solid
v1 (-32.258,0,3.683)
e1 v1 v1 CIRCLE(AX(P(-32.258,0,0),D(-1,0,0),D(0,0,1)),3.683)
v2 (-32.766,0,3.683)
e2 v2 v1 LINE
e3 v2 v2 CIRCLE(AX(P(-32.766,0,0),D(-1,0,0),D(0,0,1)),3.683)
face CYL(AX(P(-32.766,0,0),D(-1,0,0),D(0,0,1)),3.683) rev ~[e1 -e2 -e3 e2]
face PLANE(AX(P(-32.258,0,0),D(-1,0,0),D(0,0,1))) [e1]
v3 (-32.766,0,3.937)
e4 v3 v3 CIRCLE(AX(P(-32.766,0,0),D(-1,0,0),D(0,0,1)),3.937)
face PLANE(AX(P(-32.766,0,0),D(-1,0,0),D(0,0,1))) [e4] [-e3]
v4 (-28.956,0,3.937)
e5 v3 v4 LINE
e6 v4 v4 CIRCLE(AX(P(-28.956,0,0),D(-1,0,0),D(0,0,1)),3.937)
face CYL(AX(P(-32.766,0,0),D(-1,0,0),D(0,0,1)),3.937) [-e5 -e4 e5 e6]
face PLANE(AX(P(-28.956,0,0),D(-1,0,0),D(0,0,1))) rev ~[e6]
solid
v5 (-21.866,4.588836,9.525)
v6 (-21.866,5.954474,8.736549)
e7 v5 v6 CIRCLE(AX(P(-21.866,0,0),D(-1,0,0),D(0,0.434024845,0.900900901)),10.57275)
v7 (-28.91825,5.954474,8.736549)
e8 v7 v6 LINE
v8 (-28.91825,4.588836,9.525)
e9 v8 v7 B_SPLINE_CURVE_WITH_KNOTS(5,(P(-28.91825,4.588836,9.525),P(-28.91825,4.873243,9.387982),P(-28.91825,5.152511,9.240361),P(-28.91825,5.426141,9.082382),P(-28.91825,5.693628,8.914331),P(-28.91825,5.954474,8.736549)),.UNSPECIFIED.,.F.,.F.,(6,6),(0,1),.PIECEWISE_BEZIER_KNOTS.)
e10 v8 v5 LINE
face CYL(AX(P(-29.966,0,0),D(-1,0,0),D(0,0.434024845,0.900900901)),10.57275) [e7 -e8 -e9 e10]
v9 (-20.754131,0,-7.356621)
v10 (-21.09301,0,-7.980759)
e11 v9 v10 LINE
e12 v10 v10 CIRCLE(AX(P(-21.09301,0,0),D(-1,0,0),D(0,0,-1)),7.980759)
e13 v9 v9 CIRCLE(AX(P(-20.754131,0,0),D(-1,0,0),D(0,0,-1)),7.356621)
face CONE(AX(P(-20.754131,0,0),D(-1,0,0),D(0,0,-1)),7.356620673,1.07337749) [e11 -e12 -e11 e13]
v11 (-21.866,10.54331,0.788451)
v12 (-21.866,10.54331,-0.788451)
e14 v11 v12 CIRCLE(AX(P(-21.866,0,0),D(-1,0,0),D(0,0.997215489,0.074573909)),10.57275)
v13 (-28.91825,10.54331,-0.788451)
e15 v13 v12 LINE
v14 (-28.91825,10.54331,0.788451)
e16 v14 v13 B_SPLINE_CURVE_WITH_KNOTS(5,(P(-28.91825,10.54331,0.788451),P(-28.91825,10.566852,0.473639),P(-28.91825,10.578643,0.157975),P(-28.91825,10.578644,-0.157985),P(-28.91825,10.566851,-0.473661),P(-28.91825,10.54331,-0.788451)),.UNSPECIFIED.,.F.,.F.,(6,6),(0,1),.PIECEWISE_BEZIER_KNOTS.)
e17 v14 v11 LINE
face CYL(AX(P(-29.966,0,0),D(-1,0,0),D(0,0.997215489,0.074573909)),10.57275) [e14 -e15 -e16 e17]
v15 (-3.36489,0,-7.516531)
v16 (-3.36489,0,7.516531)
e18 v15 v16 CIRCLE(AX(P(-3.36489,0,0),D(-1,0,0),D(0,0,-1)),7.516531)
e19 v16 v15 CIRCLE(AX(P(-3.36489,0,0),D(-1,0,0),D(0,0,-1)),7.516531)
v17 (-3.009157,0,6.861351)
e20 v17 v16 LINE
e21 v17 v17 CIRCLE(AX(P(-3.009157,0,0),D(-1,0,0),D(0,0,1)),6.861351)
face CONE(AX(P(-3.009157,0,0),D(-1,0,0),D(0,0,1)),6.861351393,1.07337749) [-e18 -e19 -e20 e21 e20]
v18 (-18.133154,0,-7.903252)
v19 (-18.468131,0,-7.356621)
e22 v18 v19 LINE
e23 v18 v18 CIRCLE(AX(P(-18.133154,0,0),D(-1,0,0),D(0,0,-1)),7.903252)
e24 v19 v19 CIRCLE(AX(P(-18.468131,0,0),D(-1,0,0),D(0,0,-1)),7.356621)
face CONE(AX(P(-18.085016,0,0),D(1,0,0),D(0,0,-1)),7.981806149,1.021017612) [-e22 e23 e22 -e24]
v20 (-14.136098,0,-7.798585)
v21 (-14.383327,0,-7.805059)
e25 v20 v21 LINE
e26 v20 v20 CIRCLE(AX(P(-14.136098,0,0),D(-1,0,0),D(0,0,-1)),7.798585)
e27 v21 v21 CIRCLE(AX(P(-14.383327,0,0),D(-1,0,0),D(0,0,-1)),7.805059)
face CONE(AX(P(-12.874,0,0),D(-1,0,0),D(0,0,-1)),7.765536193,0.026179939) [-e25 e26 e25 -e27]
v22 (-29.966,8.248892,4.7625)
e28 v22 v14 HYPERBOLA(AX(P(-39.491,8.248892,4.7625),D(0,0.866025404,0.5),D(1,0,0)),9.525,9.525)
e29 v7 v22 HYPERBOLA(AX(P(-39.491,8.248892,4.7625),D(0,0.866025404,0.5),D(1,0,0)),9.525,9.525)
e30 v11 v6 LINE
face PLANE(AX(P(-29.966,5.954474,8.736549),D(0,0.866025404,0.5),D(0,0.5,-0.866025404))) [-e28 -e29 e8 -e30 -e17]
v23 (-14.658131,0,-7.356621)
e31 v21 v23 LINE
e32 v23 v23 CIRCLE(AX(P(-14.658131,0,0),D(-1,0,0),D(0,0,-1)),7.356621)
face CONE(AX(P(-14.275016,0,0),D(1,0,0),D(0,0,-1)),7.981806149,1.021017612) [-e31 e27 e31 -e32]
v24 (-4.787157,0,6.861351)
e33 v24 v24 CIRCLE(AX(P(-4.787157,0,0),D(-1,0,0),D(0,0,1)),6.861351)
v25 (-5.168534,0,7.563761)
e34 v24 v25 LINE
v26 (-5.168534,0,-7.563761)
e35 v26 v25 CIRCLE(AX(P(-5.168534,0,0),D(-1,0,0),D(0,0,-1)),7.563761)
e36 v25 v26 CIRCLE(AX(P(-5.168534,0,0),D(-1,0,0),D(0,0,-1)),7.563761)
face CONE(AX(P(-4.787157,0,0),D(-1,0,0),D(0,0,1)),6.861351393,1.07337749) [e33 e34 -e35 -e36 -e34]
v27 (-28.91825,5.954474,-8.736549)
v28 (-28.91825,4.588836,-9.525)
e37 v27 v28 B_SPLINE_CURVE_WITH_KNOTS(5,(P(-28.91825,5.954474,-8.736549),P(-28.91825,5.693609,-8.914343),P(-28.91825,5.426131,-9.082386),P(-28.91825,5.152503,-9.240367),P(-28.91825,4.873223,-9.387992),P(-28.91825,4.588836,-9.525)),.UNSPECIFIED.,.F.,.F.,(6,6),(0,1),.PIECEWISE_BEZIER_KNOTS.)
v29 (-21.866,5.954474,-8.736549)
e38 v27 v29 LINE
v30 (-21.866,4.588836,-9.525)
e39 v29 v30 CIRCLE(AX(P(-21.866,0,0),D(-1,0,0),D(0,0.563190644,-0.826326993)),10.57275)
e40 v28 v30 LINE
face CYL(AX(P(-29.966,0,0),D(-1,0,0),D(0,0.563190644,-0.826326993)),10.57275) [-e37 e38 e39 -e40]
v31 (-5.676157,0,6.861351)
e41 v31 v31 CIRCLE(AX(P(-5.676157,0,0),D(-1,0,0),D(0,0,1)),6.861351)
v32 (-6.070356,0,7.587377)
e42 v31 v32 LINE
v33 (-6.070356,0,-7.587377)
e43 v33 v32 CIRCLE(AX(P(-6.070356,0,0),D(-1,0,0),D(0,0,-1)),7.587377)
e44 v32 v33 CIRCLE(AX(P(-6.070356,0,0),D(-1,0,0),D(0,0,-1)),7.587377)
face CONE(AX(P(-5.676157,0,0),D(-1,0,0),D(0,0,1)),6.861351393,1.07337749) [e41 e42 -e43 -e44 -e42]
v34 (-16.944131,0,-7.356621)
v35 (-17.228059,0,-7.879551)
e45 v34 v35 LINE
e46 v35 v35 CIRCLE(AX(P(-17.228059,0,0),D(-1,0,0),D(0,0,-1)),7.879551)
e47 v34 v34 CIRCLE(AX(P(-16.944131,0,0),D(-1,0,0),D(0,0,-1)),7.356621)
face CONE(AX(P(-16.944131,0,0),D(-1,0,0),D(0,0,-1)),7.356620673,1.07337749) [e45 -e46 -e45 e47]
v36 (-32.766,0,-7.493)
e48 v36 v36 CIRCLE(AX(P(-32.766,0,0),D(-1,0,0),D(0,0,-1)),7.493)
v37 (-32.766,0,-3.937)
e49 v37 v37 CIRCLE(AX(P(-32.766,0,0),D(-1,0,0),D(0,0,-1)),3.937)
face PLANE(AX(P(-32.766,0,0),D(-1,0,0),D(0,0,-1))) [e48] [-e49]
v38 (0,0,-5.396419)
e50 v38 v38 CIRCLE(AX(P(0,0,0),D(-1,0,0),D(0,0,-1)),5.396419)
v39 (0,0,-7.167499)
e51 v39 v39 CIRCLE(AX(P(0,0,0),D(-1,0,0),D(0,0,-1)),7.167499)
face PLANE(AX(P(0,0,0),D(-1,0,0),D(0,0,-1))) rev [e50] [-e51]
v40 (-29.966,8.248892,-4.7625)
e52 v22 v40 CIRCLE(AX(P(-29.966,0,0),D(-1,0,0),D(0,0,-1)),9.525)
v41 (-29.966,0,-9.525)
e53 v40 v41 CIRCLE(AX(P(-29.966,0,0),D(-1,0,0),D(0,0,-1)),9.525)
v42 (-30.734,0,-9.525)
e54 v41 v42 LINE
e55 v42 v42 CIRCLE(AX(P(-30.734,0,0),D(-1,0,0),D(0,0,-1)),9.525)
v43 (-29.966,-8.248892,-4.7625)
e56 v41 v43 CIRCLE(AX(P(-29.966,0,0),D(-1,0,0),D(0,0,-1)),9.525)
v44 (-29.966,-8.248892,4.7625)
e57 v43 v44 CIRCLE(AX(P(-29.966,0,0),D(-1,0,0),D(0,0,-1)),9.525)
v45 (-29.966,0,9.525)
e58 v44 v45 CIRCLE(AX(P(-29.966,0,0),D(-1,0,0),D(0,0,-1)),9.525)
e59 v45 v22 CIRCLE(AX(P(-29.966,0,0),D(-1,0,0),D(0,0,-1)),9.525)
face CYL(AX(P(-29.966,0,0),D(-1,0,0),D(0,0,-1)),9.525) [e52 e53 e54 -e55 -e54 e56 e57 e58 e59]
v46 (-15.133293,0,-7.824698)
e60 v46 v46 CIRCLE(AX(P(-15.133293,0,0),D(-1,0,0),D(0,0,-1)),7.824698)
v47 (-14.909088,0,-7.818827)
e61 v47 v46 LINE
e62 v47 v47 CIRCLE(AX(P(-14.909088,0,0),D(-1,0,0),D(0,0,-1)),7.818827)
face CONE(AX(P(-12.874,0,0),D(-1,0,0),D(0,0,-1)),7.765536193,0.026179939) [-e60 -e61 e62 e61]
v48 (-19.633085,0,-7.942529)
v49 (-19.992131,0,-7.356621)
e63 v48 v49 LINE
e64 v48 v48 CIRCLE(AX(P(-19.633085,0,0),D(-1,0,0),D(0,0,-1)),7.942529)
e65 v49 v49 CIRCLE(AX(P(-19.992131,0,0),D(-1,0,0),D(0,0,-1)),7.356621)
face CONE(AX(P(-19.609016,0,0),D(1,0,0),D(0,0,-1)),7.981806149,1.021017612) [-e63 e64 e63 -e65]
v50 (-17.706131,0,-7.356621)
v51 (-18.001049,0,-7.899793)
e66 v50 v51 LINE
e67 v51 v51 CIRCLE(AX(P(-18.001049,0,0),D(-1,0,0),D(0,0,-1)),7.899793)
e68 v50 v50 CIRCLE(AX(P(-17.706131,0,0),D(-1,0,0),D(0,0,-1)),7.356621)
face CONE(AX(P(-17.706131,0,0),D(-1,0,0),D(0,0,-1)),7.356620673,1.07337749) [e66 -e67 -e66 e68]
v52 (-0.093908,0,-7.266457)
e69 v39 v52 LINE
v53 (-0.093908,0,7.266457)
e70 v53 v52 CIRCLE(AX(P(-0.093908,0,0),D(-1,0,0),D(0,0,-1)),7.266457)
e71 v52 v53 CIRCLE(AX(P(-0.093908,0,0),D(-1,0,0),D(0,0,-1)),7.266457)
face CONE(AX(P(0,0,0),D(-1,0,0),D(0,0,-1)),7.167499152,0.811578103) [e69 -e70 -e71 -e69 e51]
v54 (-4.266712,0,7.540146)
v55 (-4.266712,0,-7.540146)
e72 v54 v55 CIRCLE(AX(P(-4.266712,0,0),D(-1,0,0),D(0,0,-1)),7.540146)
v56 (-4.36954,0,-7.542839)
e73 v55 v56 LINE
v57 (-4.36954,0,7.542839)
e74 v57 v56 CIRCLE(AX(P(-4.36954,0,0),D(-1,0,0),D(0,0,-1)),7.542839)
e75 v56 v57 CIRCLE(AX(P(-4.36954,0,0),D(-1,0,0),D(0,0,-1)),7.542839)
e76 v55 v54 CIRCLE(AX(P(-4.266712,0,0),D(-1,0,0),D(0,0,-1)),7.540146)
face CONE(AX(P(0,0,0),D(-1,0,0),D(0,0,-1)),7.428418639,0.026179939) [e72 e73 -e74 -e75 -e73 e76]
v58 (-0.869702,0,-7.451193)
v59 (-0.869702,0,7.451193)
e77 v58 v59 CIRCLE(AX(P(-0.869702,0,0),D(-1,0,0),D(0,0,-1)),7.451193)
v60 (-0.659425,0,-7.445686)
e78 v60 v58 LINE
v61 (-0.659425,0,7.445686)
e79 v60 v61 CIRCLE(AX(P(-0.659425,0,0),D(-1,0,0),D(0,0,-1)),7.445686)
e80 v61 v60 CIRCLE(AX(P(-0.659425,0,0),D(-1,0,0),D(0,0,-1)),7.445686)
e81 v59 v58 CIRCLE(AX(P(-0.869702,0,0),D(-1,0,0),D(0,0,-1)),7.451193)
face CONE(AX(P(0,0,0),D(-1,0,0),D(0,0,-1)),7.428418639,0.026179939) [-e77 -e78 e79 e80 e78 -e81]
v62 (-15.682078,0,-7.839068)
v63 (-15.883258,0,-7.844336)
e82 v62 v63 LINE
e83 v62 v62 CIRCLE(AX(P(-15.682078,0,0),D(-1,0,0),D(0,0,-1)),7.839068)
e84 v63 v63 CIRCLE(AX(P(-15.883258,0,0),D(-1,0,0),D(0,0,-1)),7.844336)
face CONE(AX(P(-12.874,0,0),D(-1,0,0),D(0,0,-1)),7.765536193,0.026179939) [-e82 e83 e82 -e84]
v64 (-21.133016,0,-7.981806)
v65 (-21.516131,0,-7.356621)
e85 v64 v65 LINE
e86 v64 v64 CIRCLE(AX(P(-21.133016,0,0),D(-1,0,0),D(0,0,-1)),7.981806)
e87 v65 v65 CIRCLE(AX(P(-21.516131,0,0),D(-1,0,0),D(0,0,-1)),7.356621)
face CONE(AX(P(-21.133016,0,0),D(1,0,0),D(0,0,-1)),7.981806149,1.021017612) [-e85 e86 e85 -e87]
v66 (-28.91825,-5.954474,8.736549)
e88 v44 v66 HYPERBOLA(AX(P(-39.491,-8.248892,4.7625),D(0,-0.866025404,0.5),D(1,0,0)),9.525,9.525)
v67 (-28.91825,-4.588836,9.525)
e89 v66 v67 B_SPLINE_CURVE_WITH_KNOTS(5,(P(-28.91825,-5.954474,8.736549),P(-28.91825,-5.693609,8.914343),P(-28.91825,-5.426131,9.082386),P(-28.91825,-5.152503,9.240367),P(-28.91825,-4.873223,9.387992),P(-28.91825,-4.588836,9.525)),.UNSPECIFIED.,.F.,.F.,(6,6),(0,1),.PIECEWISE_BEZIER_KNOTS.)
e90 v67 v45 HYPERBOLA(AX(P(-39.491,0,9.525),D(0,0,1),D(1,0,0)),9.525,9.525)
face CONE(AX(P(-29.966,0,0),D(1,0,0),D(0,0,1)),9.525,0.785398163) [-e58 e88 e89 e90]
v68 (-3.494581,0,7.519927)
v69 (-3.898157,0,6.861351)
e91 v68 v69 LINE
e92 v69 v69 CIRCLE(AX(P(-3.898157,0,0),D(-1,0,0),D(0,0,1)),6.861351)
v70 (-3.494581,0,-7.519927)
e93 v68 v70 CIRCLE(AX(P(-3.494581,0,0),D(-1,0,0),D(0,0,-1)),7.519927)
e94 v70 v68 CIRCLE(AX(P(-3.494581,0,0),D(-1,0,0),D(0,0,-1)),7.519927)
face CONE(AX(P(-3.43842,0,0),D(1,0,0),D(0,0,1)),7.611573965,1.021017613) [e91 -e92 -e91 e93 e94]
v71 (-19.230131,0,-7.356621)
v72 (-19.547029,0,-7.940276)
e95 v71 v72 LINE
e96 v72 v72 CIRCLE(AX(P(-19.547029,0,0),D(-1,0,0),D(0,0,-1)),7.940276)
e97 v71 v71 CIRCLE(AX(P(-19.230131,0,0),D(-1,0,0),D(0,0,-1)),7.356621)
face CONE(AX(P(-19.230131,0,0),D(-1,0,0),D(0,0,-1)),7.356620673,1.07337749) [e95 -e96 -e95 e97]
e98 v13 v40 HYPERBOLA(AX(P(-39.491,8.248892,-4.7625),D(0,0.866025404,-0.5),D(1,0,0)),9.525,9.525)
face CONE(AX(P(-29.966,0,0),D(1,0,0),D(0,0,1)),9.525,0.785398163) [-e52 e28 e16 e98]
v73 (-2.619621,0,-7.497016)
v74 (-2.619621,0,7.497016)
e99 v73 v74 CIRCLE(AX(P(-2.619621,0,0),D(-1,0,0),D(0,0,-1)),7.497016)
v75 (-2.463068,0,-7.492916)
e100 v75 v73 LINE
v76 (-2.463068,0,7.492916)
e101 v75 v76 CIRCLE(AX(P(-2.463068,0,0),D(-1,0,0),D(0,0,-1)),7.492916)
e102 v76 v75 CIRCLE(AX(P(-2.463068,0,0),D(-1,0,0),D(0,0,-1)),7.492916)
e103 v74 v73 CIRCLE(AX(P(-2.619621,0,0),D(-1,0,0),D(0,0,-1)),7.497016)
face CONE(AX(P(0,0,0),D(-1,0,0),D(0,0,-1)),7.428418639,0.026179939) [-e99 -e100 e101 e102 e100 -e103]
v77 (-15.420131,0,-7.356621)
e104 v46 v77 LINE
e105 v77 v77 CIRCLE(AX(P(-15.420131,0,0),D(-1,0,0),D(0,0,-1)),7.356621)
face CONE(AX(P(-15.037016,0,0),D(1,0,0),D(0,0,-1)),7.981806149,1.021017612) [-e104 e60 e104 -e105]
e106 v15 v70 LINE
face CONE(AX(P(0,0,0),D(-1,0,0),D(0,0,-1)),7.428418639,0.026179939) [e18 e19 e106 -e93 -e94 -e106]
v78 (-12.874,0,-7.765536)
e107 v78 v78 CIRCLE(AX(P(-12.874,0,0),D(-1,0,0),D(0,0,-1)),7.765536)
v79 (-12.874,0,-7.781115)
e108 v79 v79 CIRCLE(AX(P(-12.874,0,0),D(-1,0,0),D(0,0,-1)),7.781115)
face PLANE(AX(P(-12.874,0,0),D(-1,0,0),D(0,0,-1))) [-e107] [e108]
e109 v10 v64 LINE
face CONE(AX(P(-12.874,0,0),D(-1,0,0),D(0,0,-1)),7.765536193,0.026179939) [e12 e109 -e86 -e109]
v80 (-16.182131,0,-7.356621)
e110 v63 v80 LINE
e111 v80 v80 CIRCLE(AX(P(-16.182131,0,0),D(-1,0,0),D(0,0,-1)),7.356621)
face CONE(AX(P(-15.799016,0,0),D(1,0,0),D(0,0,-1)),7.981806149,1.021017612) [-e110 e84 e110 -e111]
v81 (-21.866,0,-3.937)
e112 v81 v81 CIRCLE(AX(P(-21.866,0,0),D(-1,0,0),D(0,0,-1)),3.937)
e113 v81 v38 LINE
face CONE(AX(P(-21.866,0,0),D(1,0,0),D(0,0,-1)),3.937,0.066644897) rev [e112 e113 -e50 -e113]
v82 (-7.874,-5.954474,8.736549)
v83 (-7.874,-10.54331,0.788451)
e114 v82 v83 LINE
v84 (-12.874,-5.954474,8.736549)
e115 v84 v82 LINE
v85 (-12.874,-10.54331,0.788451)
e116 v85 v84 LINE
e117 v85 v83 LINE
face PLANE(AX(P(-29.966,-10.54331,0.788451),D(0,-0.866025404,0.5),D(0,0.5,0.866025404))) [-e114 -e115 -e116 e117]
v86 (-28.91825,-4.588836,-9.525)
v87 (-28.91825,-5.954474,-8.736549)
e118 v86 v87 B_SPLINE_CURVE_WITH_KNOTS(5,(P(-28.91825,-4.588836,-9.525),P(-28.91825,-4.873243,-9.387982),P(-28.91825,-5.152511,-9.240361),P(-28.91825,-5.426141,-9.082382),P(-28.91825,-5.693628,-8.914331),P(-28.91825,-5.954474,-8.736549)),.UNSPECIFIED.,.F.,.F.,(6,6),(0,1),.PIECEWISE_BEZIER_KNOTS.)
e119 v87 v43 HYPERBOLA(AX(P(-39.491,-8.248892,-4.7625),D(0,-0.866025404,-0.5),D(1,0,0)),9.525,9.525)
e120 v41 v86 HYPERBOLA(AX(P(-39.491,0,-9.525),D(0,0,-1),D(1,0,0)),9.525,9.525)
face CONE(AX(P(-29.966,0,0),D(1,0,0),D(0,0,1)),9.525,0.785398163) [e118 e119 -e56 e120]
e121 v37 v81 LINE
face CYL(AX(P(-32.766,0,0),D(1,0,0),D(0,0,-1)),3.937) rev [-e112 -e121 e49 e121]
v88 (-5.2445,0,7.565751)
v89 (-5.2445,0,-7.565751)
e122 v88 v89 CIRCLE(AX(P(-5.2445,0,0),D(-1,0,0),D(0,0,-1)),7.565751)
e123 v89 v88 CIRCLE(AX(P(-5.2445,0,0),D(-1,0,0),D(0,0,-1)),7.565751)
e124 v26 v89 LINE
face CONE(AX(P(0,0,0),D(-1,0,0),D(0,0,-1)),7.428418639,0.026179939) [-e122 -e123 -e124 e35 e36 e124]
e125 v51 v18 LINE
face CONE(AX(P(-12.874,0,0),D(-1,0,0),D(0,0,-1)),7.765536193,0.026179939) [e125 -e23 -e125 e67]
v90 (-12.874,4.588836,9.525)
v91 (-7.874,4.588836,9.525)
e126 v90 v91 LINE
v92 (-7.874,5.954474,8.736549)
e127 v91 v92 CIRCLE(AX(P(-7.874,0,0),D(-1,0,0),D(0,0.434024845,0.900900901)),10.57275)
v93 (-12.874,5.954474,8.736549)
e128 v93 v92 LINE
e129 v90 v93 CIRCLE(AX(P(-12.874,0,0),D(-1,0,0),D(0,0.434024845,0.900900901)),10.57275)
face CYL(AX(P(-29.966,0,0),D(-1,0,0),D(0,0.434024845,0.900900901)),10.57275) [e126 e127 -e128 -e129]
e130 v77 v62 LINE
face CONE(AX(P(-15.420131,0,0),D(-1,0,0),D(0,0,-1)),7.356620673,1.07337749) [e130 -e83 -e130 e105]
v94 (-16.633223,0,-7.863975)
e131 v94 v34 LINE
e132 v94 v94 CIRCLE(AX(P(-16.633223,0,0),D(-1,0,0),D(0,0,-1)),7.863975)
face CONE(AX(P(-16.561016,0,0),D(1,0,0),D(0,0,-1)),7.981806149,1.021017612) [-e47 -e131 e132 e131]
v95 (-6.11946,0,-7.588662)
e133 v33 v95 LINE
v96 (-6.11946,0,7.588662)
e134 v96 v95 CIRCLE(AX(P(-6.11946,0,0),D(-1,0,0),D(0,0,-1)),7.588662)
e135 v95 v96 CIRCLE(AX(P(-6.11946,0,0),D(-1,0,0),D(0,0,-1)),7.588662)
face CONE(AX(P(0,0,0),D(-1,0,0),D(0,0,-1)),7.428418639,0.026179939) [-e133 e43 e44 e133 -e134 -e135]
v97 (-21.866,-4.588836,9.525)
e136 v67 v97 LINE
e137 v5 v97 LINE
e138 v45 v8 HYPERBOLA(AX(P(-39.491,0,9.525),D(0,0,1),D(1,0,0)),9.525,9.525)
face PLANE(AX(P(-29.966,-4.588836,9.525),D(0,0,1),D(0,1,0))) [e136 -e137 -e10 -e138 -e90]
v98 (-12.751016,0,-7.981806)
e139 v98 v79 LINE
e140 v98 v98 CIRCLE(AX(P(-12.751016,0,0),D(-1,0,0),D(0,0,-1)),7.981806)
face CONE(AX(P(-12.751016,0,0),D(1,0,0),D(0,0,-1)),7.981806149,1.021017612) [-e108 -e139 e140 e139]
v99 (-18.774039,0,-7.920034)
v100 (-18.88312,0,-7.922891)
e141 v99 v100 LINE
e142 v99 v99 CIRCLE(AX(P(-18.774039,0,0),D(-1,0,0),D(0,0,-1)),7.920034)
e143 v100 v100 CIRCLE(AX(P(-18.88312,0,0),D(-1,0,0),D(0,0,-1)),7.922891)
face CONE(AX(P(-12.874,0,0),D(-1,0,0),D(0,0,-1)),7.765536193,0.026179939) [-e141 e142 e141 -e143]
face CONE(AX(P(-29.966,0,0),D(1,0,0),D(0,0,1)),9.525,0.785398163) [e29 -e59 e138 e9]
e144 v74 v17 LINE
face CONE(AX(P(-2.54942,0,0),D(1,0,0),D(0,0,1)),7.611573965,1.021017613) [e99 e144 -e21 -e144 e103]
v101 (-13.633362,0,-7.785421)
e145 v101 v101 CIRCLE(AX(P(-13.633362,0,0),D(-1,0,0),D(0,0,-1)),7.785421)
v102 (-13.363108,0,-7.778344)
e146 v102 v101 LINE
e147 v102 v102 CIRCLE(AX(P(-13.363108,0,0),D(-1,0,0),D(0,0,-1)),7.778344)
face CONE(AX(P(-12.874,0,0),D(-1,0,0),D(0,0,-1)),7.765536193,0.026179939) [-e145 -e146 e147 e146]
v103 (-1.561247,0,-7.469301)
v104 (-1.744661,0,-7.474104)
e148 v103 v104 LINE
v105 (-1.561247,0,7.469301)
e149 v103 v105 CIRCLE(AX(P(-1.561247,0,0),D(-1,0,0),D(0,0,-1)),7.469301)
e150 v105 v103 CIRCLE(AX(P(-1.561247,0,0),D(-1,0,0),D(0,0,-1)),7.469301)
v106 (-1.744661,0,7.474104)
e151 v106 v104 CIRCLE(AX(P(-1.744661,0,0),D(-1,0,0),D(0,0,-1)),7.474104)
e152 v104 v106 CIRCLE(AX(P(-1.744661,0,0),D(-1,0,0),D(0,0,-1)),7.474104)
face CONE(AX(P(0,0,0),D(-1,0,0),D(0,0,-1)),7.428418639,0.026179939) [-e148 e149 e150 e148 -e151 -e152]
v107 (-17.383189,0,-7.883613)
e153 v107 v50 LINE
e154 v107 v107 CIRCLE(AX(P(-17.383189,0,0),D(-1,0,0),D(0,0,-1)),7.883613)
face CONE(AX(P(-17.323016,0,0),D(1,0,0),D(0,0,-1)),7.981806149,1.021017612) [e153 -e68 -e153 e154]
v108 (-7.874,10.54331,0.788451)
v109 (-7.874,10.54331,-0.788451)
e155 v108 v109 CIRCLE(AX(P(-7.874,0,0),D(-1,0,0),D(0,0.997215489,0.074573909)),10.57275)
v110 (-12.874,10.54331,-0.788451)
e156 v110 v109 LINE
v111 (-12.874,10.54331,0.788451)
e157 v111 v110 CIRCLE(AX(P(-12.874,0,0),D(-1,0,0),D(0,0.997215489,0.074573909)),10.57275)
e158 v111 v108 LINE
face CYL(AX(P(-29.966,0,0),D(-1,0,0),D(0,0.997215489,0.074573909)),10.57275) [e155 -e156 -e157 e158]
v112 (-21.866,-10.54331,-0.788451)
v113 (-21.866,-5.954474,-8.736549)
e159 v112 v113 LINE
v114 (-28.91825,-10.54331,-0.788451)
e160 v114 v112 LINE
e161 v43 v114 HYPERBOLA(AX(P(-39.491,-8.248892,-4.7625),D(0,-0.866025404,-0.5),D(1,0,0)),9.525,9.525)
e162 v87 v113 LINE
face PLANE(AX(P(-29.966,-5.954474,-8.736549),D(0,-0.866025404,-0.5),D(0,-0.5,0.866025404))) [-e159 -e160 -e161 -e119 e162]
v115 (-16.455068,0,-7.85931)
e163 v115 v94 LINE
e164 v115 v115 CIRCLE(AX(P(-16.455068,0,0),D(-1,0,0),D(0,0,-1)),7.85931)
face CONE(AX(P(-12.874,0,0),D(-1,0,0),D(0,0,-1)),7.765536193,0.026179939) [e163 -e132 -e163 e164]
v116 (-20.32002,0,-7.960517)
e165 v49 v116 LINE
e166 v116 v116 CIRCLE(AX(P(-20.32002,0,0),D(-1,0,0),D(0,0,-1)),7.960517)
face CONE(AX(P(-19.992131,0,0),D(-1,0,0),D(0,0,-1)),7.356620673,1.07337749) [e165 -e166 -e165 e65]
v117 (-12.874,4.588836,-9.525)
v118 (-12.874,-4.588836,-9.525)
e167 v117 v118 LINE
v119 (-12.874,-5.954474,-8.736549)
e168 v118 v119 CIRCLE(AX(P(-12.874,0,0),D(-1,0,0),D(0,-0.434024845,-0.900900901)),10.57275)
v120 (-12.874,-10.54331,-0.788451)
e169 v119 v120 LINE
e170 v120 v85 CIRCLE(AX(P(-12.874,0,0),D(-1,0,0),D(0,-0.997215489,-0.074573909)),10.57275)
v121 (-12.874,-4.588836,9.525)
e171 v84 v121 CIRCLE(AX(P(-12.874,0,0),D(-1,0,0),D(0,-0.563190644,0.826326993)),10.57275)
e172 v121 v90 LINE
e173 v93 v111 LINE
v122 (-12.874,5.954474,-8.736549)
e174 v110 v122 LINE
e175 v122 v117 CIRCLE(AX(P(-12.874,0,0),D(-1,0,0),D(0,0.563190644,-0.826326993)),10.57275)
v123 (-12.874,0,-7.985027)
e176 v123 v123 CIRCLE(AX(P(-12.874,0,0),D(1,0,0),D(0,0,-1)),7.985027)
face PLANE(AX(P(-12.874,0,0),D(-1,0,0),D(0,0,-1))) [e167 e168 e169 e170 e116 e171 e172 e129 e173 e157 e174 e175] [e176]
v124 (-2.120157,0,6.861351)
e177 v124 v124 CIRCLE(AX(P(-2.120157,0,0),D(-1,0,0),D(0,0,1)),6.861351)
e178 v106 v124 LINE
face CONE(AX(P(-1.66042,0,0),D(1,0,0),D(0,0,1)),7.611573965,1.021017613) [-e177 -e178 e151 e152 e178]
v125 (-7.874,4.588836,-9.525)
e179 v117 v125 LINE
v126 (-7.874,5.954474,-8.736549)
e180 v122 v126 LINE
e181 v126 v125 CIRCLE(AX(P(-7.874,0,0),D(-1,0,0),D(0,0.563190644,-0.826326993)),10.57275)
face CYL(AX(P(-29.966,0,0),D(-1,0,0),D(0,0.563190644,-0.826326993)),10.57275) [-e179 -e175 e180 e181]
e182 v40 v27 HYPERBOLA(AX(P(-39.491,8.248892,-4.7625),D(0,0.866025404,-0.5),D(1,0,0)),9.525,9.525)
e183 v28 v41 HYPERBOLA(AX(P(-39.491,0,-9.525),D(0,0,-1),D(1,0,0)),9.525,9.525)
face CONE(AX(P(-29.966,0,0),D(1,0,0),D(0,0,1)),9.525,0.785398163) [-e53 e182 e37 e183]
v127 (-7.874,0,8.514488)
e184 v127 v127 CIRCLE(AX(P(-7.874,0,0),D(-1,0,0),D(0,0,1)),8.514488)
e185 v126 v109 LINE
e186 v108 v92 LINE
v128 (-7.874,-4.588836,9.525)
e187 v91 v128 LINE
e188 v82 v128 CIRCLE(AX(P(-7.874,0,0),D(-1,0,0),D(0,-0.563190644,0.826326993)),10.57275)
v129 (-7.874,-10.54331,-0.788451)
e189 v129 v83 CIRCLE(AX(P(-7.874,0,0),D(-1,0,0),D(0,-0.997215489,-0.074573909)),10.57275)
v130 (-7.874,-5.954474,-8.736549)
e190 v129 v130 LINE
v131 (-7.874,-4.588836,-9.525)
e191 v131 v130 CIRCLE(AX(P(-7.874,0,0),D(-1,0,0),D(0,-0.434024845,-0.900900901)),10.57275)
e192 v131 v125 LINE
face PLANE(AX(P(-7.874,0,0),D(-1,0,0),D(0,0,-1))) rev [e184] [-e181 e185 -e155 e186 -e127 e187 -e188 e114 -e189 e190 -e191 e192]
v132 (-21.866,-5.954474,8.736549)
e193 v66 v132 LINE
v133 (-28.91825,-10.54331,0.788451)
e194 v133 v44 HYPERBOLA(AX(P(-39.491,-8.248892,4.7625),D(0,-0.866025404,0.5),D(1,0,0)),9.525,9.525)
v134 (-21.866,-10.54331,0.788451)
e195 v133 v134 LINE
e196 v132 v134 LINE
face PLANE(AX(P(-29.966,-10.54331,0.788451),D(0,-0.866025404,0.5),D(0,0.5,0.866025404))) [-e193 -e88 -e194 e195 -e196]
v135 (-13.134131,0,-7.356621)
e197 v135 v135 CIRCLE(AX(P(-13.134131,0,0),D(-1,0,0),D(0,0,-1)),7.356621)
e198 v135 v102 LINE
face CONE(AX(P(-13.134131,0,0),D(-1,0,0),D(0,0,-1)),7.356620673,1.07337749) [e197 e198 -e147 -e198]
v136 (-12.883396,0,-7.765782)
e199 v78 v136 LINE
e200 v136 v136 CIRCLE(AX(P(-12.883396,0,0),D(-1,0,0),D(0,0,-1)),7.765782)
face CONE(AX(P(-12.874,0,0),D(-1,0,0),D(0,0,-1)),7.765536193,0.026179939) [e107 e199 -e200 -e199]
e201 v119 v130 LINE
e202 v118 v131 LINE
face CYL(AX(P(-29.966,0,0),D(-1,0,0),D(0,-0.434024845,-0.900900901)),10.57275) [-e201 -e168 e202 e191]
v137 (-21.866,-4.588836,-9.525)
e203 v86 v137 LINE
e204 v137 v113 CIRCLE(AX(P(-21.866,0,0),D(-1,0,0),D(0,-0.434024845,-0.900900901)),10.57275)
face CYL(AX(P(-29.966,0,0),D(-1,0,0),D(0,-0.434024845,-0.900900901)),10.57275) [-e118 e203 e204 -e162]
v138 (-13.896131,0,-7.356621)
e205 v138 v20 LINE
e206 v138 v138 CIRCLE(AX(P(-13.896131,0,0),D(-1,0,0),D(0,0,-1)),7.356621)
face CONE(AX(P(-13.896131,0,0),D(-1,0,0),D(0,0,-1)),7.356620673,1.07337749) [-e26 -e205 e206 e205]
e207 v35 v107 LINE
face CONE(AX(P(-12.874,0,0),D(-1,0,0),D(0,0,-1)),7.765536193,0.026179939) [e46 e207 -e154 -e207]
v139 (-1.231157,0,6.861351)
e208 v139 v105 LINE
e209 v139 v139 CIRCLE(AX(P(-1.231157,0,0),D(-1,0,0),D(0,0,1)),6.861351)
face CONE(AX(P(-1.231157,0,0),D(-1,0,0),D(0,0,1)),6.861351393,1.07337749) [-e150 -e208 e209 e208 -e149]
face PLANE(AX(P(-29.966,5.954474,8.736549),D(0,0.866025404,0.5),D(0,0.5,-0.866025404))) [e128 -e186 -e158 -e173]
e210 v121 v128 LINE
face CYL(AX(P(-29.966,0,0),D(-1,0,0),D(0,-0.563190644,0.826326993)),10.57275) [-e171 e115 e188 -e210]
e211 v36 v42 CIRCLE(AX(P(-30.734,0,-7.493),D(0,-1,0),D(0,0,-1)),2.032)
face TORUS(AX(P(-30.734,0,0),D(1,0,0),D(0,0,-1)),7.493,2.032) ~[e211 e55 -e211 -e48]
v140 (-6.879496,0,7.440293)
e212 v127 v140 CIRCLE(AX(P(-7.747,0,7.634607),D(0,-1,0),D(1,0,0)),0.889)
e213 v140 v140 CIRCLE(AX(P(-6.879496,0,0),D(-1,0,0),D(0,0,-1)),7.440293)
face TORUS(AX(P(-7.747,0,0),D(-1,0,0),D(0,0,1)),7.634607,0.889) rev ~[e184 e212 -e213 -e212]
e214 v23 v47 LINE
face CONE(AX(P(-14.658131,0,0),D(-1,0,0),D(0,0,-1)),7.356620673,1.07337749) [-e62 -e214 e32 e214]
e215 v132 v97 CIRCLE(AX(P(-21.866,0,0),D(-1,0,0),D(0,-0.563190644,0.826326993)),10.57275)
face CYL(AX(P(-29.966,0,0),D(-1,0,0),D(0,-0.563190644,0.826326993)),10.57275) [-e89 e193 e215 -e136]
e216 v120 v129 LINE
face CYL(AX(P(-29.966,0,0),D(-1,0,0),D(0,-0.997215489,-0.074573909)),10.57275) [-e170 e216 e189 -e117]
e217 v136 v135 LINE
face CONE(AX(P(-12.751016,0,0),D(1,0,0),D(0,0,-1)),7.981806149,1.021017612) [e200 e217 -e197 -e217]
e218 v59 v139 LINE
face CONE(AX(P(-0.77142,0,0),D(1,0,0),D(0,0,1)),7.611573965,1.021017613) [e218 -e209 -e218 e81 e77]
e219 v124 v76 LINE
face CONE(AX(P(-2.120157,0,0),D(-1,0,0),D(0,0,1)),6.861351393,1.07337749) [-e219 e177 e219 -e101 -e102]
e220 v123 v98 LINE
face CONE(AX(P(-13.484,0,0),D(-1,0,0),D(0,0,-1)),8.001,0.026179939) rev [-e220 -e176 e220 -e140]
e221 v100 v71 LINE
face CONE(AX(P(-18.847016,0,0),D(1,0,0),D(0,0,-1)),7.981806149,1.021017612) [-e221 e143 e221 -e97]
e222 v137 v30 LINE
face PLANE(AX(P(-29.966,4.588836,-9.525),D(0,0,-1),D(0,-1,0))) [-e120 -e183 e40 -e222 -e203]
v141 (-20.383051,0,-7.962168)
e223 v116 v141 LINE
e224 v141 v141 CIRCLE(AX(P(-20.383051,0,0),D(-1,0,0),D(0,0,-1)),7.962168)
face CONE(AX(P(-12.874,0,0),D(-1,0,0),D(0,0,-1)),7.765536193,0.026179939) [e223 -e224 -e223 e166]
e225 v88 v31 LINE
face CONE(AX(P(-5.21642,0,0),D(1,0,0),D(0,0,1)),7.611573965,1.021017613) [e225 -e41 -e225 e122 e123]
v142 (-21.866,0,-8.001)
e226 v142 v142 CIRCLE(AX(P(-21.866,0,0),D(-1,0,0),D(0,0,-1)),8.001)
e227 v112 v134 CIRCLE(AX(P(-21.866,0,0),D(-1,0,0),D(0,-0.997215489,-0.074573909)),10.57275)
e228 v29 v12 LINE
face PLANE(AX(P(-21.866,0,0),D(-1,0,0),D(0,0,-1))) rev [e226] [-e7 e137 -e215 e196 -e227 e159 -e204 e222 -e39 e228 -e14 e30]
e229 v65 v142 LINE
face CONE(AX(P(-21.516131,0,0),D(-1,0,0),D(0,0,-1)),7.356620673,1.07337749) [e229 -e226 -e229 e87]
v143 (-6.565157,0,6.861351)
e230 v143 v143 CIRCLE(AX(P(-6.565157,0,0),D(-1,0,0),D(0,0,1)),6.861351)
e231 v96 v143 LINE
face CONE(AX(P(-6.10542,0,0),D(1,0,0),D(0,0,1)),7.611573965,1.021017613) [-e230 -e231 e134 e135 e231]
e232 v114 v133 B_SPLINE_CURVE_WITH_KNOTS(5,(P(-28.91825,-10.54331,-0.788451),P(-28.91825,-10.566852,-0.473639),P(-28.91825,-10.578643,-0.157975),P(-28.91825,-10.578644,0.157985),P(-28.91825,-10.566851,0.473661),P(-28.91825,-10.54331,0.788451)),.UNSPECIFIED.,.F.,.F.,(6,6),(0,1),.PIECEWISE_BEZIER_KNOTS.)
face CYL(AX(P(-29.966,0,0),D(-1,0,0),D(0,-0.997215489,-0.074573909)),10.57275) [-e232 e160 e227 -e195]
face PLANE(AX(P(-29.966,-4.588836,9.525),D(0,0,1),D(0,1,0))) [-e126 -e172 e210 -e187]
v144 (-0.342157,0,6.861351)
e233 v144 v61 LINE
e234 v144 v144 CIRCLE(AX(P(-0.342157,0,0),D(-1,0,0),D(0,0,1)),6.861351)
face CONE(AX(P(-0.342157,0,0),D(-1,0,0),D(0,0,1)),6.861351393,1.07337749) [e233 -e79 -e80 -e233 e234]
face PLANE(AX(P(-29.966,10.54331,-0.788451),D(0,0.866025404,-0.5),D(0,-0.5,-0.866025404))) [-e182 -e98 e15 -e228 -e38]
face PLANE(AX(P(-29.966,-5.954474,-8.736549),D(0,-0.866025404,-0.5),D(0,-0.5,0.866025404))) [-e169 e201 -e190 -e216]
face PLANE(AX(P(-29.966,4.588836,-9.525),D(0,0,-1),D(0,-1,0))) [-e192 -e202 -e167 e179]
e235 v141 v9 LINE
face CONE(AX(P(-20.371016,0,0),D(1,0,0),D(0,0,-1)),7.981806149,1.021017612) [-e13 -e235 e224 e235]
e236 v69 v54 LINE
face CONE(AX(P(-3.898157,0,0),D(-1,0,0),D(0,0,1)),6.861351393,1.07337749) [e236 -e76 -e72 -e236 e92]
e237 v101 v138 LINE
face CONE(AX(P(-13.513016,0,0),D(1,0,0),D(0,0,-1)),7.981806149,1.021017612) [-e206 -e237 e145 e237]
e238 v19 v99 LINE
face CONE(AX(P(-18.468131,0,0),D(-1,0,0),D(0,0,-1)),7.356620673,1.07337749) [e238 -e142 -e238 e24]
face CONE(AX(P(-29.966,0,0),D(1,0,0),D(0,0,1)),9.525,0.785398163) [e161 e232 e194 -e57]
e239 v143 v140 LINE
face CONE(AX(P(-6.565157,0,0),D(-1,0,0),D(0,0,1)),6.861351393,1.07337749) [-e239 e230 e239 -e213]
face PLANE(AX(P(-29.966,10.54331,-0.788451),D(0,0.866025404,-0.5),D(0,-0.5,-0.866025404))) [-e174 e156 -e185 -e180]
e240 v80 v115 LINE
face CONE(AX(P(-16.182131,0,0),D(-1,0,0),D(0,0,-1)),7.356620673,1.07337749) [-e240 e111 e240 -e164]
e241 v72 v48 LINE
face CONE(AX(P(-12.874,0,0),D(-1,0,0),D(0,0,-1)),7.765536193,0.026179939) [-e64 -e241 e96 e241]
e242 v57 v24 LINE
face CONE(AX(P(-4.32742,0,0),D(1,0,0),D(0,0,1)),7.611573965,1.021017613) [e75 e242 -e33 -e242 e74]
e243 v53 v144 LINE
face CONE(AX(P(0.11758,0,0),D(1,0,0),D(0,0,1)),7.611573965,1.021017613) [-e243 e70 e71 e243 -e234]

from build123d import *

# Parameters (mm, degrees)
SKETCH12_OUTSIDE_W = 52.712
SKETCH12_OUTSIDE_H = 52.712
CUT_EXTRUDE2_DEPTH = 30.966
FILLET4_R          = 2.032
SKETCH19_OUTSIDE_W = 33.73
SKETCH19_OUTSIDE_H = 35.826
SKETCH19_OUTSIDE_R = 9.525
CUT_EXTRUDE3_DEPTH = 1.999996
CUT_EXTRUDE3_DRAFT = -45
CHAMFER1_SIZE      = 0.260919487
CHAMFER1_SIZE2     = 0.254
SKETCH21_R         = 3.937
PLUG_DEPTH         = 3.81
SKETCH22_R         = 3.683
CUT_EXTRUDE4_DEPTH = 0.508
LPATTERN1_COUNT    = 12
LPATTERN1_PITCH    = 0.762
LPATTERN2_COUNT    = 9
LPATTERN2_PITCH    = 0.889
SKETCH32_R         = 0.889


with BuildPart() as part:
    # Sketch10 → Revolve2 (revolve)
    with BuildSketch(Plane.XY, mode=Mode.PRIVATE) as revolve2_sk:
        Polygon((-32.766, 3.937), (-21.866, 3.937), (0, 5.396418639), (0, 7.428418639), (-7.874, 7.634606585), (-7.874, 19.05), (-12.874, 19.05), (-12.874, 7.765536193), (-21.866, 8.001), (-21.866, 19.05), (-29.966, 19.05), (-29.966, 9.525), (-32.766, 9.525), align=None)
    revolve(revolve2_sk.sketch.rotate(Axis((0, 0, 0), (-1, 0, 0)), 90), axis=Axis((0, 0, 0), (-1, 0, 0)))  # turned: the seam where the file's is

    # Sketch12 outside → Cut-Extrude2 (cut, through all)
    with BuildSketch(Plane.ZY.offset(29.966)):
        Rectangle(SKETCH12_OUTSIDE_W, SKETCH12_OUTSIDE_H)
        with BuildLine():
            Line((-0.788451287, 10.543310065), (-8.736548713, 5.954473877))
            ThreePointArc((-8.736548713, 5.954473877), (-9.156270088, 5.286375), (-9.525, 4.588836188))
            Line((-9.525, 4.588836188), (-9.525, -4.588836188))
            ThreePointArc((-9.525, -4.588836188), (-9.156270088, -5.286375), (-8.736548713, -5.954473877))
            Line((-8.736548713, -5.954473877), (-0.788451287, -10.543310065))
            ThreePointArc((-0.788451287, -10.543310065), (0, -10.57275), (0.788451287, -10.543310065))
            Line((0.788451287, -10.543310065), (8.736548713, -5.954473877))
            ThreePointArc((8.736548713, -5.954473877), (9.156270088, -5.286375), (9.525, -4.588836188))
            Line((9.525, -4.588836188), (9.525, 4.588836188))
            ThreePointArc((9.525, 4.588836188), (9.156270088, 5.286375), (8.736548713, 5.954473877))
            Line((8.736548713, 5.954473877), (0.788451287, 10.543310065))
            ThreePointArc((0.788451287, 10.543310065), (0, 10.57275), (-0.788451287, 10.543310065))
        make_face(mode=Mode.SUBTRACT)
    extrude(amount=-CUT_EXTRUDE2_DEPTH, mode=Mode.SUBTRACT)

    # Fillet4
    fillet4_edges = [part.edges().sort_by_distance(p)[0] for p in [
        (-32.766, 0, 9.525),
    ]]
    fillet(fillet4_edges, radius=FILLET4_R)


with BuildPart() as cut_extrude3_tool:
    # Sketch19 outside → Cut-Extrude3 (with draft: the straight prism first)
    with BuildSketch(Plane.ZY.offset(29.966)):
        Rectangle(SKETCH19_OUTSIDE_W, SKETCH19_OUTSIDE_H)
        Circle(SKETCH19_OUTSIDE_R, mode=Mode.SUBTRACT)
    extrude(amount=-CUT_EXTRUDE3_DEPTH)
    # Cut-Extrude3: the draft: its side faces are tilted about the plane it starts from
    cut_extrude3_sides = [cut_extrude3_tool.faces().sort_by_distance(p)[0] for p in [
        (-28.966002, -17.913, 0),
        (-28.966002, 0, 16.865),
        (-28.966002, 17.913, 0),
        (-28.966002, 0, -16.865),
        (-28.966002, 0, -9.525),
    ]]
    draft(cut_extrude3_sides, Plane.ZY.offset(29.966), CUT_EXTRUDE3_DRAFT)


with BuildPart() as part_1:
    add(part.part)

    # Cut-Extrude3: cut by cut_extrude3_tool
    add(cut_extrude3_tool.part, mode=Mode.SUBTRACT)

    # Chamfer1
    chamfer1_edges = [part_1.edges().sort_by_distance(p)[0] for p in [
        (0, 0, 7.428418639),
    ]]
    chamfer1_side = [part_1.faces().sort_by_distance(p)[0] for p in [
        (0, 0, 5.606526047),
    ]]
    chamfer(chamfer1_edges, length=CHAMFER1_SIZE, length2=CHAMFER1_SIZE2, reference=chamfer1_side[0])

    # Sketch29 → Cut-Revolve1 (revolve, cut)
    with BuildSketch(Plane.XY, mode=Mode.PRIVATE) as cut_revolve1_sk:
        Polygon((-21.866, 8.001), (-21.133016419, 7.981806149), (-21.516130572, 7.356620673), align=None)
    cut_revolve1 = revolve(cut_revolve1_sk.sketch.rotate(Axis((0, 0, 0), (-1, 0, 0)), 90), axis=Axis((0, 0, 0), (-1, 0, 0)), mode=Mode.SUBTRACT)  # turned: the seam where the file's is

    # LPattern1: Cut-Revolve1 ×12
    with Locations(*[(i * LPATTERN1_PITCH, 0, 0) for i in range(1, LPATTERN1_COUNT)]):
        add(cut_revolve1, mode=Mode.SUBTRACT)

    # Sketch30 → Cut-Revolve2 (revolve, cut)
    with BuildSketch(Plane.XY, mode=Mode.PRIVATE) as cut_revolve2_sk:
        Polygon((-7.874, 7.634606585), (-6.994419703, 7.611573965), (-7.454156686, 6.861351393), align=None)
    cut_revolve2 = revolve(cut_revolve2_sk.sketch.rotate(Axis((0, 0, 0), (-1, 0, 0)), 270), axis=Axis((0, 0, 0), (-1, 0, 0)), mode=Mode.SUBTRACT)  # turned: the seam where the file's is

    # LPattern2: Cut-Revolve2 ×9
    with Locations(*[(i * LPATTERN2_PITCH, 0, 0) for i in range(1, LPATTERN2_COUNT)]):
        add(cut_revolve2, mode=Mode.SUBTRACT)

    # Sketch32 → Cut-Revolve3 (revolve, cut)
    with BuildSketch(Plane.XY, mode=Mode.PRIVATE) as cut_revolve3_sk:
        with Locations((-7.747, 7.634606585)):
            Circle(SKETCH32_R)
    revolve(cut_revolve3_sk.sketch.rotate(Axis((0, 0, 0), (-1, 0, 0)), 270), axis=Axis((0, 0, 0), (-1, 0, 0)), mode=Mode.SUBTRACT)  # turned: the seam where the file's is


with BuildPart() as body_2:
    # Sketch21 → plug (new body)
    with BuildSketch(Plane.ZY.offset(32.766)):
        Circle(SKETCH21_R)
    extrude(amount=-PLUG_DEPTH)

    # Sketch22 → Cut-Extrude4 (cut)
    with BuildSketch(Plane.ZY.offset(32.766)):
        Circle(SKETCH22_R)
    extrude(amount=-CUT_EXTRUDE4_DEPTH, mode=Mode.SUBTRACT)


solid = Compound([part_1.part, body_2.part])
